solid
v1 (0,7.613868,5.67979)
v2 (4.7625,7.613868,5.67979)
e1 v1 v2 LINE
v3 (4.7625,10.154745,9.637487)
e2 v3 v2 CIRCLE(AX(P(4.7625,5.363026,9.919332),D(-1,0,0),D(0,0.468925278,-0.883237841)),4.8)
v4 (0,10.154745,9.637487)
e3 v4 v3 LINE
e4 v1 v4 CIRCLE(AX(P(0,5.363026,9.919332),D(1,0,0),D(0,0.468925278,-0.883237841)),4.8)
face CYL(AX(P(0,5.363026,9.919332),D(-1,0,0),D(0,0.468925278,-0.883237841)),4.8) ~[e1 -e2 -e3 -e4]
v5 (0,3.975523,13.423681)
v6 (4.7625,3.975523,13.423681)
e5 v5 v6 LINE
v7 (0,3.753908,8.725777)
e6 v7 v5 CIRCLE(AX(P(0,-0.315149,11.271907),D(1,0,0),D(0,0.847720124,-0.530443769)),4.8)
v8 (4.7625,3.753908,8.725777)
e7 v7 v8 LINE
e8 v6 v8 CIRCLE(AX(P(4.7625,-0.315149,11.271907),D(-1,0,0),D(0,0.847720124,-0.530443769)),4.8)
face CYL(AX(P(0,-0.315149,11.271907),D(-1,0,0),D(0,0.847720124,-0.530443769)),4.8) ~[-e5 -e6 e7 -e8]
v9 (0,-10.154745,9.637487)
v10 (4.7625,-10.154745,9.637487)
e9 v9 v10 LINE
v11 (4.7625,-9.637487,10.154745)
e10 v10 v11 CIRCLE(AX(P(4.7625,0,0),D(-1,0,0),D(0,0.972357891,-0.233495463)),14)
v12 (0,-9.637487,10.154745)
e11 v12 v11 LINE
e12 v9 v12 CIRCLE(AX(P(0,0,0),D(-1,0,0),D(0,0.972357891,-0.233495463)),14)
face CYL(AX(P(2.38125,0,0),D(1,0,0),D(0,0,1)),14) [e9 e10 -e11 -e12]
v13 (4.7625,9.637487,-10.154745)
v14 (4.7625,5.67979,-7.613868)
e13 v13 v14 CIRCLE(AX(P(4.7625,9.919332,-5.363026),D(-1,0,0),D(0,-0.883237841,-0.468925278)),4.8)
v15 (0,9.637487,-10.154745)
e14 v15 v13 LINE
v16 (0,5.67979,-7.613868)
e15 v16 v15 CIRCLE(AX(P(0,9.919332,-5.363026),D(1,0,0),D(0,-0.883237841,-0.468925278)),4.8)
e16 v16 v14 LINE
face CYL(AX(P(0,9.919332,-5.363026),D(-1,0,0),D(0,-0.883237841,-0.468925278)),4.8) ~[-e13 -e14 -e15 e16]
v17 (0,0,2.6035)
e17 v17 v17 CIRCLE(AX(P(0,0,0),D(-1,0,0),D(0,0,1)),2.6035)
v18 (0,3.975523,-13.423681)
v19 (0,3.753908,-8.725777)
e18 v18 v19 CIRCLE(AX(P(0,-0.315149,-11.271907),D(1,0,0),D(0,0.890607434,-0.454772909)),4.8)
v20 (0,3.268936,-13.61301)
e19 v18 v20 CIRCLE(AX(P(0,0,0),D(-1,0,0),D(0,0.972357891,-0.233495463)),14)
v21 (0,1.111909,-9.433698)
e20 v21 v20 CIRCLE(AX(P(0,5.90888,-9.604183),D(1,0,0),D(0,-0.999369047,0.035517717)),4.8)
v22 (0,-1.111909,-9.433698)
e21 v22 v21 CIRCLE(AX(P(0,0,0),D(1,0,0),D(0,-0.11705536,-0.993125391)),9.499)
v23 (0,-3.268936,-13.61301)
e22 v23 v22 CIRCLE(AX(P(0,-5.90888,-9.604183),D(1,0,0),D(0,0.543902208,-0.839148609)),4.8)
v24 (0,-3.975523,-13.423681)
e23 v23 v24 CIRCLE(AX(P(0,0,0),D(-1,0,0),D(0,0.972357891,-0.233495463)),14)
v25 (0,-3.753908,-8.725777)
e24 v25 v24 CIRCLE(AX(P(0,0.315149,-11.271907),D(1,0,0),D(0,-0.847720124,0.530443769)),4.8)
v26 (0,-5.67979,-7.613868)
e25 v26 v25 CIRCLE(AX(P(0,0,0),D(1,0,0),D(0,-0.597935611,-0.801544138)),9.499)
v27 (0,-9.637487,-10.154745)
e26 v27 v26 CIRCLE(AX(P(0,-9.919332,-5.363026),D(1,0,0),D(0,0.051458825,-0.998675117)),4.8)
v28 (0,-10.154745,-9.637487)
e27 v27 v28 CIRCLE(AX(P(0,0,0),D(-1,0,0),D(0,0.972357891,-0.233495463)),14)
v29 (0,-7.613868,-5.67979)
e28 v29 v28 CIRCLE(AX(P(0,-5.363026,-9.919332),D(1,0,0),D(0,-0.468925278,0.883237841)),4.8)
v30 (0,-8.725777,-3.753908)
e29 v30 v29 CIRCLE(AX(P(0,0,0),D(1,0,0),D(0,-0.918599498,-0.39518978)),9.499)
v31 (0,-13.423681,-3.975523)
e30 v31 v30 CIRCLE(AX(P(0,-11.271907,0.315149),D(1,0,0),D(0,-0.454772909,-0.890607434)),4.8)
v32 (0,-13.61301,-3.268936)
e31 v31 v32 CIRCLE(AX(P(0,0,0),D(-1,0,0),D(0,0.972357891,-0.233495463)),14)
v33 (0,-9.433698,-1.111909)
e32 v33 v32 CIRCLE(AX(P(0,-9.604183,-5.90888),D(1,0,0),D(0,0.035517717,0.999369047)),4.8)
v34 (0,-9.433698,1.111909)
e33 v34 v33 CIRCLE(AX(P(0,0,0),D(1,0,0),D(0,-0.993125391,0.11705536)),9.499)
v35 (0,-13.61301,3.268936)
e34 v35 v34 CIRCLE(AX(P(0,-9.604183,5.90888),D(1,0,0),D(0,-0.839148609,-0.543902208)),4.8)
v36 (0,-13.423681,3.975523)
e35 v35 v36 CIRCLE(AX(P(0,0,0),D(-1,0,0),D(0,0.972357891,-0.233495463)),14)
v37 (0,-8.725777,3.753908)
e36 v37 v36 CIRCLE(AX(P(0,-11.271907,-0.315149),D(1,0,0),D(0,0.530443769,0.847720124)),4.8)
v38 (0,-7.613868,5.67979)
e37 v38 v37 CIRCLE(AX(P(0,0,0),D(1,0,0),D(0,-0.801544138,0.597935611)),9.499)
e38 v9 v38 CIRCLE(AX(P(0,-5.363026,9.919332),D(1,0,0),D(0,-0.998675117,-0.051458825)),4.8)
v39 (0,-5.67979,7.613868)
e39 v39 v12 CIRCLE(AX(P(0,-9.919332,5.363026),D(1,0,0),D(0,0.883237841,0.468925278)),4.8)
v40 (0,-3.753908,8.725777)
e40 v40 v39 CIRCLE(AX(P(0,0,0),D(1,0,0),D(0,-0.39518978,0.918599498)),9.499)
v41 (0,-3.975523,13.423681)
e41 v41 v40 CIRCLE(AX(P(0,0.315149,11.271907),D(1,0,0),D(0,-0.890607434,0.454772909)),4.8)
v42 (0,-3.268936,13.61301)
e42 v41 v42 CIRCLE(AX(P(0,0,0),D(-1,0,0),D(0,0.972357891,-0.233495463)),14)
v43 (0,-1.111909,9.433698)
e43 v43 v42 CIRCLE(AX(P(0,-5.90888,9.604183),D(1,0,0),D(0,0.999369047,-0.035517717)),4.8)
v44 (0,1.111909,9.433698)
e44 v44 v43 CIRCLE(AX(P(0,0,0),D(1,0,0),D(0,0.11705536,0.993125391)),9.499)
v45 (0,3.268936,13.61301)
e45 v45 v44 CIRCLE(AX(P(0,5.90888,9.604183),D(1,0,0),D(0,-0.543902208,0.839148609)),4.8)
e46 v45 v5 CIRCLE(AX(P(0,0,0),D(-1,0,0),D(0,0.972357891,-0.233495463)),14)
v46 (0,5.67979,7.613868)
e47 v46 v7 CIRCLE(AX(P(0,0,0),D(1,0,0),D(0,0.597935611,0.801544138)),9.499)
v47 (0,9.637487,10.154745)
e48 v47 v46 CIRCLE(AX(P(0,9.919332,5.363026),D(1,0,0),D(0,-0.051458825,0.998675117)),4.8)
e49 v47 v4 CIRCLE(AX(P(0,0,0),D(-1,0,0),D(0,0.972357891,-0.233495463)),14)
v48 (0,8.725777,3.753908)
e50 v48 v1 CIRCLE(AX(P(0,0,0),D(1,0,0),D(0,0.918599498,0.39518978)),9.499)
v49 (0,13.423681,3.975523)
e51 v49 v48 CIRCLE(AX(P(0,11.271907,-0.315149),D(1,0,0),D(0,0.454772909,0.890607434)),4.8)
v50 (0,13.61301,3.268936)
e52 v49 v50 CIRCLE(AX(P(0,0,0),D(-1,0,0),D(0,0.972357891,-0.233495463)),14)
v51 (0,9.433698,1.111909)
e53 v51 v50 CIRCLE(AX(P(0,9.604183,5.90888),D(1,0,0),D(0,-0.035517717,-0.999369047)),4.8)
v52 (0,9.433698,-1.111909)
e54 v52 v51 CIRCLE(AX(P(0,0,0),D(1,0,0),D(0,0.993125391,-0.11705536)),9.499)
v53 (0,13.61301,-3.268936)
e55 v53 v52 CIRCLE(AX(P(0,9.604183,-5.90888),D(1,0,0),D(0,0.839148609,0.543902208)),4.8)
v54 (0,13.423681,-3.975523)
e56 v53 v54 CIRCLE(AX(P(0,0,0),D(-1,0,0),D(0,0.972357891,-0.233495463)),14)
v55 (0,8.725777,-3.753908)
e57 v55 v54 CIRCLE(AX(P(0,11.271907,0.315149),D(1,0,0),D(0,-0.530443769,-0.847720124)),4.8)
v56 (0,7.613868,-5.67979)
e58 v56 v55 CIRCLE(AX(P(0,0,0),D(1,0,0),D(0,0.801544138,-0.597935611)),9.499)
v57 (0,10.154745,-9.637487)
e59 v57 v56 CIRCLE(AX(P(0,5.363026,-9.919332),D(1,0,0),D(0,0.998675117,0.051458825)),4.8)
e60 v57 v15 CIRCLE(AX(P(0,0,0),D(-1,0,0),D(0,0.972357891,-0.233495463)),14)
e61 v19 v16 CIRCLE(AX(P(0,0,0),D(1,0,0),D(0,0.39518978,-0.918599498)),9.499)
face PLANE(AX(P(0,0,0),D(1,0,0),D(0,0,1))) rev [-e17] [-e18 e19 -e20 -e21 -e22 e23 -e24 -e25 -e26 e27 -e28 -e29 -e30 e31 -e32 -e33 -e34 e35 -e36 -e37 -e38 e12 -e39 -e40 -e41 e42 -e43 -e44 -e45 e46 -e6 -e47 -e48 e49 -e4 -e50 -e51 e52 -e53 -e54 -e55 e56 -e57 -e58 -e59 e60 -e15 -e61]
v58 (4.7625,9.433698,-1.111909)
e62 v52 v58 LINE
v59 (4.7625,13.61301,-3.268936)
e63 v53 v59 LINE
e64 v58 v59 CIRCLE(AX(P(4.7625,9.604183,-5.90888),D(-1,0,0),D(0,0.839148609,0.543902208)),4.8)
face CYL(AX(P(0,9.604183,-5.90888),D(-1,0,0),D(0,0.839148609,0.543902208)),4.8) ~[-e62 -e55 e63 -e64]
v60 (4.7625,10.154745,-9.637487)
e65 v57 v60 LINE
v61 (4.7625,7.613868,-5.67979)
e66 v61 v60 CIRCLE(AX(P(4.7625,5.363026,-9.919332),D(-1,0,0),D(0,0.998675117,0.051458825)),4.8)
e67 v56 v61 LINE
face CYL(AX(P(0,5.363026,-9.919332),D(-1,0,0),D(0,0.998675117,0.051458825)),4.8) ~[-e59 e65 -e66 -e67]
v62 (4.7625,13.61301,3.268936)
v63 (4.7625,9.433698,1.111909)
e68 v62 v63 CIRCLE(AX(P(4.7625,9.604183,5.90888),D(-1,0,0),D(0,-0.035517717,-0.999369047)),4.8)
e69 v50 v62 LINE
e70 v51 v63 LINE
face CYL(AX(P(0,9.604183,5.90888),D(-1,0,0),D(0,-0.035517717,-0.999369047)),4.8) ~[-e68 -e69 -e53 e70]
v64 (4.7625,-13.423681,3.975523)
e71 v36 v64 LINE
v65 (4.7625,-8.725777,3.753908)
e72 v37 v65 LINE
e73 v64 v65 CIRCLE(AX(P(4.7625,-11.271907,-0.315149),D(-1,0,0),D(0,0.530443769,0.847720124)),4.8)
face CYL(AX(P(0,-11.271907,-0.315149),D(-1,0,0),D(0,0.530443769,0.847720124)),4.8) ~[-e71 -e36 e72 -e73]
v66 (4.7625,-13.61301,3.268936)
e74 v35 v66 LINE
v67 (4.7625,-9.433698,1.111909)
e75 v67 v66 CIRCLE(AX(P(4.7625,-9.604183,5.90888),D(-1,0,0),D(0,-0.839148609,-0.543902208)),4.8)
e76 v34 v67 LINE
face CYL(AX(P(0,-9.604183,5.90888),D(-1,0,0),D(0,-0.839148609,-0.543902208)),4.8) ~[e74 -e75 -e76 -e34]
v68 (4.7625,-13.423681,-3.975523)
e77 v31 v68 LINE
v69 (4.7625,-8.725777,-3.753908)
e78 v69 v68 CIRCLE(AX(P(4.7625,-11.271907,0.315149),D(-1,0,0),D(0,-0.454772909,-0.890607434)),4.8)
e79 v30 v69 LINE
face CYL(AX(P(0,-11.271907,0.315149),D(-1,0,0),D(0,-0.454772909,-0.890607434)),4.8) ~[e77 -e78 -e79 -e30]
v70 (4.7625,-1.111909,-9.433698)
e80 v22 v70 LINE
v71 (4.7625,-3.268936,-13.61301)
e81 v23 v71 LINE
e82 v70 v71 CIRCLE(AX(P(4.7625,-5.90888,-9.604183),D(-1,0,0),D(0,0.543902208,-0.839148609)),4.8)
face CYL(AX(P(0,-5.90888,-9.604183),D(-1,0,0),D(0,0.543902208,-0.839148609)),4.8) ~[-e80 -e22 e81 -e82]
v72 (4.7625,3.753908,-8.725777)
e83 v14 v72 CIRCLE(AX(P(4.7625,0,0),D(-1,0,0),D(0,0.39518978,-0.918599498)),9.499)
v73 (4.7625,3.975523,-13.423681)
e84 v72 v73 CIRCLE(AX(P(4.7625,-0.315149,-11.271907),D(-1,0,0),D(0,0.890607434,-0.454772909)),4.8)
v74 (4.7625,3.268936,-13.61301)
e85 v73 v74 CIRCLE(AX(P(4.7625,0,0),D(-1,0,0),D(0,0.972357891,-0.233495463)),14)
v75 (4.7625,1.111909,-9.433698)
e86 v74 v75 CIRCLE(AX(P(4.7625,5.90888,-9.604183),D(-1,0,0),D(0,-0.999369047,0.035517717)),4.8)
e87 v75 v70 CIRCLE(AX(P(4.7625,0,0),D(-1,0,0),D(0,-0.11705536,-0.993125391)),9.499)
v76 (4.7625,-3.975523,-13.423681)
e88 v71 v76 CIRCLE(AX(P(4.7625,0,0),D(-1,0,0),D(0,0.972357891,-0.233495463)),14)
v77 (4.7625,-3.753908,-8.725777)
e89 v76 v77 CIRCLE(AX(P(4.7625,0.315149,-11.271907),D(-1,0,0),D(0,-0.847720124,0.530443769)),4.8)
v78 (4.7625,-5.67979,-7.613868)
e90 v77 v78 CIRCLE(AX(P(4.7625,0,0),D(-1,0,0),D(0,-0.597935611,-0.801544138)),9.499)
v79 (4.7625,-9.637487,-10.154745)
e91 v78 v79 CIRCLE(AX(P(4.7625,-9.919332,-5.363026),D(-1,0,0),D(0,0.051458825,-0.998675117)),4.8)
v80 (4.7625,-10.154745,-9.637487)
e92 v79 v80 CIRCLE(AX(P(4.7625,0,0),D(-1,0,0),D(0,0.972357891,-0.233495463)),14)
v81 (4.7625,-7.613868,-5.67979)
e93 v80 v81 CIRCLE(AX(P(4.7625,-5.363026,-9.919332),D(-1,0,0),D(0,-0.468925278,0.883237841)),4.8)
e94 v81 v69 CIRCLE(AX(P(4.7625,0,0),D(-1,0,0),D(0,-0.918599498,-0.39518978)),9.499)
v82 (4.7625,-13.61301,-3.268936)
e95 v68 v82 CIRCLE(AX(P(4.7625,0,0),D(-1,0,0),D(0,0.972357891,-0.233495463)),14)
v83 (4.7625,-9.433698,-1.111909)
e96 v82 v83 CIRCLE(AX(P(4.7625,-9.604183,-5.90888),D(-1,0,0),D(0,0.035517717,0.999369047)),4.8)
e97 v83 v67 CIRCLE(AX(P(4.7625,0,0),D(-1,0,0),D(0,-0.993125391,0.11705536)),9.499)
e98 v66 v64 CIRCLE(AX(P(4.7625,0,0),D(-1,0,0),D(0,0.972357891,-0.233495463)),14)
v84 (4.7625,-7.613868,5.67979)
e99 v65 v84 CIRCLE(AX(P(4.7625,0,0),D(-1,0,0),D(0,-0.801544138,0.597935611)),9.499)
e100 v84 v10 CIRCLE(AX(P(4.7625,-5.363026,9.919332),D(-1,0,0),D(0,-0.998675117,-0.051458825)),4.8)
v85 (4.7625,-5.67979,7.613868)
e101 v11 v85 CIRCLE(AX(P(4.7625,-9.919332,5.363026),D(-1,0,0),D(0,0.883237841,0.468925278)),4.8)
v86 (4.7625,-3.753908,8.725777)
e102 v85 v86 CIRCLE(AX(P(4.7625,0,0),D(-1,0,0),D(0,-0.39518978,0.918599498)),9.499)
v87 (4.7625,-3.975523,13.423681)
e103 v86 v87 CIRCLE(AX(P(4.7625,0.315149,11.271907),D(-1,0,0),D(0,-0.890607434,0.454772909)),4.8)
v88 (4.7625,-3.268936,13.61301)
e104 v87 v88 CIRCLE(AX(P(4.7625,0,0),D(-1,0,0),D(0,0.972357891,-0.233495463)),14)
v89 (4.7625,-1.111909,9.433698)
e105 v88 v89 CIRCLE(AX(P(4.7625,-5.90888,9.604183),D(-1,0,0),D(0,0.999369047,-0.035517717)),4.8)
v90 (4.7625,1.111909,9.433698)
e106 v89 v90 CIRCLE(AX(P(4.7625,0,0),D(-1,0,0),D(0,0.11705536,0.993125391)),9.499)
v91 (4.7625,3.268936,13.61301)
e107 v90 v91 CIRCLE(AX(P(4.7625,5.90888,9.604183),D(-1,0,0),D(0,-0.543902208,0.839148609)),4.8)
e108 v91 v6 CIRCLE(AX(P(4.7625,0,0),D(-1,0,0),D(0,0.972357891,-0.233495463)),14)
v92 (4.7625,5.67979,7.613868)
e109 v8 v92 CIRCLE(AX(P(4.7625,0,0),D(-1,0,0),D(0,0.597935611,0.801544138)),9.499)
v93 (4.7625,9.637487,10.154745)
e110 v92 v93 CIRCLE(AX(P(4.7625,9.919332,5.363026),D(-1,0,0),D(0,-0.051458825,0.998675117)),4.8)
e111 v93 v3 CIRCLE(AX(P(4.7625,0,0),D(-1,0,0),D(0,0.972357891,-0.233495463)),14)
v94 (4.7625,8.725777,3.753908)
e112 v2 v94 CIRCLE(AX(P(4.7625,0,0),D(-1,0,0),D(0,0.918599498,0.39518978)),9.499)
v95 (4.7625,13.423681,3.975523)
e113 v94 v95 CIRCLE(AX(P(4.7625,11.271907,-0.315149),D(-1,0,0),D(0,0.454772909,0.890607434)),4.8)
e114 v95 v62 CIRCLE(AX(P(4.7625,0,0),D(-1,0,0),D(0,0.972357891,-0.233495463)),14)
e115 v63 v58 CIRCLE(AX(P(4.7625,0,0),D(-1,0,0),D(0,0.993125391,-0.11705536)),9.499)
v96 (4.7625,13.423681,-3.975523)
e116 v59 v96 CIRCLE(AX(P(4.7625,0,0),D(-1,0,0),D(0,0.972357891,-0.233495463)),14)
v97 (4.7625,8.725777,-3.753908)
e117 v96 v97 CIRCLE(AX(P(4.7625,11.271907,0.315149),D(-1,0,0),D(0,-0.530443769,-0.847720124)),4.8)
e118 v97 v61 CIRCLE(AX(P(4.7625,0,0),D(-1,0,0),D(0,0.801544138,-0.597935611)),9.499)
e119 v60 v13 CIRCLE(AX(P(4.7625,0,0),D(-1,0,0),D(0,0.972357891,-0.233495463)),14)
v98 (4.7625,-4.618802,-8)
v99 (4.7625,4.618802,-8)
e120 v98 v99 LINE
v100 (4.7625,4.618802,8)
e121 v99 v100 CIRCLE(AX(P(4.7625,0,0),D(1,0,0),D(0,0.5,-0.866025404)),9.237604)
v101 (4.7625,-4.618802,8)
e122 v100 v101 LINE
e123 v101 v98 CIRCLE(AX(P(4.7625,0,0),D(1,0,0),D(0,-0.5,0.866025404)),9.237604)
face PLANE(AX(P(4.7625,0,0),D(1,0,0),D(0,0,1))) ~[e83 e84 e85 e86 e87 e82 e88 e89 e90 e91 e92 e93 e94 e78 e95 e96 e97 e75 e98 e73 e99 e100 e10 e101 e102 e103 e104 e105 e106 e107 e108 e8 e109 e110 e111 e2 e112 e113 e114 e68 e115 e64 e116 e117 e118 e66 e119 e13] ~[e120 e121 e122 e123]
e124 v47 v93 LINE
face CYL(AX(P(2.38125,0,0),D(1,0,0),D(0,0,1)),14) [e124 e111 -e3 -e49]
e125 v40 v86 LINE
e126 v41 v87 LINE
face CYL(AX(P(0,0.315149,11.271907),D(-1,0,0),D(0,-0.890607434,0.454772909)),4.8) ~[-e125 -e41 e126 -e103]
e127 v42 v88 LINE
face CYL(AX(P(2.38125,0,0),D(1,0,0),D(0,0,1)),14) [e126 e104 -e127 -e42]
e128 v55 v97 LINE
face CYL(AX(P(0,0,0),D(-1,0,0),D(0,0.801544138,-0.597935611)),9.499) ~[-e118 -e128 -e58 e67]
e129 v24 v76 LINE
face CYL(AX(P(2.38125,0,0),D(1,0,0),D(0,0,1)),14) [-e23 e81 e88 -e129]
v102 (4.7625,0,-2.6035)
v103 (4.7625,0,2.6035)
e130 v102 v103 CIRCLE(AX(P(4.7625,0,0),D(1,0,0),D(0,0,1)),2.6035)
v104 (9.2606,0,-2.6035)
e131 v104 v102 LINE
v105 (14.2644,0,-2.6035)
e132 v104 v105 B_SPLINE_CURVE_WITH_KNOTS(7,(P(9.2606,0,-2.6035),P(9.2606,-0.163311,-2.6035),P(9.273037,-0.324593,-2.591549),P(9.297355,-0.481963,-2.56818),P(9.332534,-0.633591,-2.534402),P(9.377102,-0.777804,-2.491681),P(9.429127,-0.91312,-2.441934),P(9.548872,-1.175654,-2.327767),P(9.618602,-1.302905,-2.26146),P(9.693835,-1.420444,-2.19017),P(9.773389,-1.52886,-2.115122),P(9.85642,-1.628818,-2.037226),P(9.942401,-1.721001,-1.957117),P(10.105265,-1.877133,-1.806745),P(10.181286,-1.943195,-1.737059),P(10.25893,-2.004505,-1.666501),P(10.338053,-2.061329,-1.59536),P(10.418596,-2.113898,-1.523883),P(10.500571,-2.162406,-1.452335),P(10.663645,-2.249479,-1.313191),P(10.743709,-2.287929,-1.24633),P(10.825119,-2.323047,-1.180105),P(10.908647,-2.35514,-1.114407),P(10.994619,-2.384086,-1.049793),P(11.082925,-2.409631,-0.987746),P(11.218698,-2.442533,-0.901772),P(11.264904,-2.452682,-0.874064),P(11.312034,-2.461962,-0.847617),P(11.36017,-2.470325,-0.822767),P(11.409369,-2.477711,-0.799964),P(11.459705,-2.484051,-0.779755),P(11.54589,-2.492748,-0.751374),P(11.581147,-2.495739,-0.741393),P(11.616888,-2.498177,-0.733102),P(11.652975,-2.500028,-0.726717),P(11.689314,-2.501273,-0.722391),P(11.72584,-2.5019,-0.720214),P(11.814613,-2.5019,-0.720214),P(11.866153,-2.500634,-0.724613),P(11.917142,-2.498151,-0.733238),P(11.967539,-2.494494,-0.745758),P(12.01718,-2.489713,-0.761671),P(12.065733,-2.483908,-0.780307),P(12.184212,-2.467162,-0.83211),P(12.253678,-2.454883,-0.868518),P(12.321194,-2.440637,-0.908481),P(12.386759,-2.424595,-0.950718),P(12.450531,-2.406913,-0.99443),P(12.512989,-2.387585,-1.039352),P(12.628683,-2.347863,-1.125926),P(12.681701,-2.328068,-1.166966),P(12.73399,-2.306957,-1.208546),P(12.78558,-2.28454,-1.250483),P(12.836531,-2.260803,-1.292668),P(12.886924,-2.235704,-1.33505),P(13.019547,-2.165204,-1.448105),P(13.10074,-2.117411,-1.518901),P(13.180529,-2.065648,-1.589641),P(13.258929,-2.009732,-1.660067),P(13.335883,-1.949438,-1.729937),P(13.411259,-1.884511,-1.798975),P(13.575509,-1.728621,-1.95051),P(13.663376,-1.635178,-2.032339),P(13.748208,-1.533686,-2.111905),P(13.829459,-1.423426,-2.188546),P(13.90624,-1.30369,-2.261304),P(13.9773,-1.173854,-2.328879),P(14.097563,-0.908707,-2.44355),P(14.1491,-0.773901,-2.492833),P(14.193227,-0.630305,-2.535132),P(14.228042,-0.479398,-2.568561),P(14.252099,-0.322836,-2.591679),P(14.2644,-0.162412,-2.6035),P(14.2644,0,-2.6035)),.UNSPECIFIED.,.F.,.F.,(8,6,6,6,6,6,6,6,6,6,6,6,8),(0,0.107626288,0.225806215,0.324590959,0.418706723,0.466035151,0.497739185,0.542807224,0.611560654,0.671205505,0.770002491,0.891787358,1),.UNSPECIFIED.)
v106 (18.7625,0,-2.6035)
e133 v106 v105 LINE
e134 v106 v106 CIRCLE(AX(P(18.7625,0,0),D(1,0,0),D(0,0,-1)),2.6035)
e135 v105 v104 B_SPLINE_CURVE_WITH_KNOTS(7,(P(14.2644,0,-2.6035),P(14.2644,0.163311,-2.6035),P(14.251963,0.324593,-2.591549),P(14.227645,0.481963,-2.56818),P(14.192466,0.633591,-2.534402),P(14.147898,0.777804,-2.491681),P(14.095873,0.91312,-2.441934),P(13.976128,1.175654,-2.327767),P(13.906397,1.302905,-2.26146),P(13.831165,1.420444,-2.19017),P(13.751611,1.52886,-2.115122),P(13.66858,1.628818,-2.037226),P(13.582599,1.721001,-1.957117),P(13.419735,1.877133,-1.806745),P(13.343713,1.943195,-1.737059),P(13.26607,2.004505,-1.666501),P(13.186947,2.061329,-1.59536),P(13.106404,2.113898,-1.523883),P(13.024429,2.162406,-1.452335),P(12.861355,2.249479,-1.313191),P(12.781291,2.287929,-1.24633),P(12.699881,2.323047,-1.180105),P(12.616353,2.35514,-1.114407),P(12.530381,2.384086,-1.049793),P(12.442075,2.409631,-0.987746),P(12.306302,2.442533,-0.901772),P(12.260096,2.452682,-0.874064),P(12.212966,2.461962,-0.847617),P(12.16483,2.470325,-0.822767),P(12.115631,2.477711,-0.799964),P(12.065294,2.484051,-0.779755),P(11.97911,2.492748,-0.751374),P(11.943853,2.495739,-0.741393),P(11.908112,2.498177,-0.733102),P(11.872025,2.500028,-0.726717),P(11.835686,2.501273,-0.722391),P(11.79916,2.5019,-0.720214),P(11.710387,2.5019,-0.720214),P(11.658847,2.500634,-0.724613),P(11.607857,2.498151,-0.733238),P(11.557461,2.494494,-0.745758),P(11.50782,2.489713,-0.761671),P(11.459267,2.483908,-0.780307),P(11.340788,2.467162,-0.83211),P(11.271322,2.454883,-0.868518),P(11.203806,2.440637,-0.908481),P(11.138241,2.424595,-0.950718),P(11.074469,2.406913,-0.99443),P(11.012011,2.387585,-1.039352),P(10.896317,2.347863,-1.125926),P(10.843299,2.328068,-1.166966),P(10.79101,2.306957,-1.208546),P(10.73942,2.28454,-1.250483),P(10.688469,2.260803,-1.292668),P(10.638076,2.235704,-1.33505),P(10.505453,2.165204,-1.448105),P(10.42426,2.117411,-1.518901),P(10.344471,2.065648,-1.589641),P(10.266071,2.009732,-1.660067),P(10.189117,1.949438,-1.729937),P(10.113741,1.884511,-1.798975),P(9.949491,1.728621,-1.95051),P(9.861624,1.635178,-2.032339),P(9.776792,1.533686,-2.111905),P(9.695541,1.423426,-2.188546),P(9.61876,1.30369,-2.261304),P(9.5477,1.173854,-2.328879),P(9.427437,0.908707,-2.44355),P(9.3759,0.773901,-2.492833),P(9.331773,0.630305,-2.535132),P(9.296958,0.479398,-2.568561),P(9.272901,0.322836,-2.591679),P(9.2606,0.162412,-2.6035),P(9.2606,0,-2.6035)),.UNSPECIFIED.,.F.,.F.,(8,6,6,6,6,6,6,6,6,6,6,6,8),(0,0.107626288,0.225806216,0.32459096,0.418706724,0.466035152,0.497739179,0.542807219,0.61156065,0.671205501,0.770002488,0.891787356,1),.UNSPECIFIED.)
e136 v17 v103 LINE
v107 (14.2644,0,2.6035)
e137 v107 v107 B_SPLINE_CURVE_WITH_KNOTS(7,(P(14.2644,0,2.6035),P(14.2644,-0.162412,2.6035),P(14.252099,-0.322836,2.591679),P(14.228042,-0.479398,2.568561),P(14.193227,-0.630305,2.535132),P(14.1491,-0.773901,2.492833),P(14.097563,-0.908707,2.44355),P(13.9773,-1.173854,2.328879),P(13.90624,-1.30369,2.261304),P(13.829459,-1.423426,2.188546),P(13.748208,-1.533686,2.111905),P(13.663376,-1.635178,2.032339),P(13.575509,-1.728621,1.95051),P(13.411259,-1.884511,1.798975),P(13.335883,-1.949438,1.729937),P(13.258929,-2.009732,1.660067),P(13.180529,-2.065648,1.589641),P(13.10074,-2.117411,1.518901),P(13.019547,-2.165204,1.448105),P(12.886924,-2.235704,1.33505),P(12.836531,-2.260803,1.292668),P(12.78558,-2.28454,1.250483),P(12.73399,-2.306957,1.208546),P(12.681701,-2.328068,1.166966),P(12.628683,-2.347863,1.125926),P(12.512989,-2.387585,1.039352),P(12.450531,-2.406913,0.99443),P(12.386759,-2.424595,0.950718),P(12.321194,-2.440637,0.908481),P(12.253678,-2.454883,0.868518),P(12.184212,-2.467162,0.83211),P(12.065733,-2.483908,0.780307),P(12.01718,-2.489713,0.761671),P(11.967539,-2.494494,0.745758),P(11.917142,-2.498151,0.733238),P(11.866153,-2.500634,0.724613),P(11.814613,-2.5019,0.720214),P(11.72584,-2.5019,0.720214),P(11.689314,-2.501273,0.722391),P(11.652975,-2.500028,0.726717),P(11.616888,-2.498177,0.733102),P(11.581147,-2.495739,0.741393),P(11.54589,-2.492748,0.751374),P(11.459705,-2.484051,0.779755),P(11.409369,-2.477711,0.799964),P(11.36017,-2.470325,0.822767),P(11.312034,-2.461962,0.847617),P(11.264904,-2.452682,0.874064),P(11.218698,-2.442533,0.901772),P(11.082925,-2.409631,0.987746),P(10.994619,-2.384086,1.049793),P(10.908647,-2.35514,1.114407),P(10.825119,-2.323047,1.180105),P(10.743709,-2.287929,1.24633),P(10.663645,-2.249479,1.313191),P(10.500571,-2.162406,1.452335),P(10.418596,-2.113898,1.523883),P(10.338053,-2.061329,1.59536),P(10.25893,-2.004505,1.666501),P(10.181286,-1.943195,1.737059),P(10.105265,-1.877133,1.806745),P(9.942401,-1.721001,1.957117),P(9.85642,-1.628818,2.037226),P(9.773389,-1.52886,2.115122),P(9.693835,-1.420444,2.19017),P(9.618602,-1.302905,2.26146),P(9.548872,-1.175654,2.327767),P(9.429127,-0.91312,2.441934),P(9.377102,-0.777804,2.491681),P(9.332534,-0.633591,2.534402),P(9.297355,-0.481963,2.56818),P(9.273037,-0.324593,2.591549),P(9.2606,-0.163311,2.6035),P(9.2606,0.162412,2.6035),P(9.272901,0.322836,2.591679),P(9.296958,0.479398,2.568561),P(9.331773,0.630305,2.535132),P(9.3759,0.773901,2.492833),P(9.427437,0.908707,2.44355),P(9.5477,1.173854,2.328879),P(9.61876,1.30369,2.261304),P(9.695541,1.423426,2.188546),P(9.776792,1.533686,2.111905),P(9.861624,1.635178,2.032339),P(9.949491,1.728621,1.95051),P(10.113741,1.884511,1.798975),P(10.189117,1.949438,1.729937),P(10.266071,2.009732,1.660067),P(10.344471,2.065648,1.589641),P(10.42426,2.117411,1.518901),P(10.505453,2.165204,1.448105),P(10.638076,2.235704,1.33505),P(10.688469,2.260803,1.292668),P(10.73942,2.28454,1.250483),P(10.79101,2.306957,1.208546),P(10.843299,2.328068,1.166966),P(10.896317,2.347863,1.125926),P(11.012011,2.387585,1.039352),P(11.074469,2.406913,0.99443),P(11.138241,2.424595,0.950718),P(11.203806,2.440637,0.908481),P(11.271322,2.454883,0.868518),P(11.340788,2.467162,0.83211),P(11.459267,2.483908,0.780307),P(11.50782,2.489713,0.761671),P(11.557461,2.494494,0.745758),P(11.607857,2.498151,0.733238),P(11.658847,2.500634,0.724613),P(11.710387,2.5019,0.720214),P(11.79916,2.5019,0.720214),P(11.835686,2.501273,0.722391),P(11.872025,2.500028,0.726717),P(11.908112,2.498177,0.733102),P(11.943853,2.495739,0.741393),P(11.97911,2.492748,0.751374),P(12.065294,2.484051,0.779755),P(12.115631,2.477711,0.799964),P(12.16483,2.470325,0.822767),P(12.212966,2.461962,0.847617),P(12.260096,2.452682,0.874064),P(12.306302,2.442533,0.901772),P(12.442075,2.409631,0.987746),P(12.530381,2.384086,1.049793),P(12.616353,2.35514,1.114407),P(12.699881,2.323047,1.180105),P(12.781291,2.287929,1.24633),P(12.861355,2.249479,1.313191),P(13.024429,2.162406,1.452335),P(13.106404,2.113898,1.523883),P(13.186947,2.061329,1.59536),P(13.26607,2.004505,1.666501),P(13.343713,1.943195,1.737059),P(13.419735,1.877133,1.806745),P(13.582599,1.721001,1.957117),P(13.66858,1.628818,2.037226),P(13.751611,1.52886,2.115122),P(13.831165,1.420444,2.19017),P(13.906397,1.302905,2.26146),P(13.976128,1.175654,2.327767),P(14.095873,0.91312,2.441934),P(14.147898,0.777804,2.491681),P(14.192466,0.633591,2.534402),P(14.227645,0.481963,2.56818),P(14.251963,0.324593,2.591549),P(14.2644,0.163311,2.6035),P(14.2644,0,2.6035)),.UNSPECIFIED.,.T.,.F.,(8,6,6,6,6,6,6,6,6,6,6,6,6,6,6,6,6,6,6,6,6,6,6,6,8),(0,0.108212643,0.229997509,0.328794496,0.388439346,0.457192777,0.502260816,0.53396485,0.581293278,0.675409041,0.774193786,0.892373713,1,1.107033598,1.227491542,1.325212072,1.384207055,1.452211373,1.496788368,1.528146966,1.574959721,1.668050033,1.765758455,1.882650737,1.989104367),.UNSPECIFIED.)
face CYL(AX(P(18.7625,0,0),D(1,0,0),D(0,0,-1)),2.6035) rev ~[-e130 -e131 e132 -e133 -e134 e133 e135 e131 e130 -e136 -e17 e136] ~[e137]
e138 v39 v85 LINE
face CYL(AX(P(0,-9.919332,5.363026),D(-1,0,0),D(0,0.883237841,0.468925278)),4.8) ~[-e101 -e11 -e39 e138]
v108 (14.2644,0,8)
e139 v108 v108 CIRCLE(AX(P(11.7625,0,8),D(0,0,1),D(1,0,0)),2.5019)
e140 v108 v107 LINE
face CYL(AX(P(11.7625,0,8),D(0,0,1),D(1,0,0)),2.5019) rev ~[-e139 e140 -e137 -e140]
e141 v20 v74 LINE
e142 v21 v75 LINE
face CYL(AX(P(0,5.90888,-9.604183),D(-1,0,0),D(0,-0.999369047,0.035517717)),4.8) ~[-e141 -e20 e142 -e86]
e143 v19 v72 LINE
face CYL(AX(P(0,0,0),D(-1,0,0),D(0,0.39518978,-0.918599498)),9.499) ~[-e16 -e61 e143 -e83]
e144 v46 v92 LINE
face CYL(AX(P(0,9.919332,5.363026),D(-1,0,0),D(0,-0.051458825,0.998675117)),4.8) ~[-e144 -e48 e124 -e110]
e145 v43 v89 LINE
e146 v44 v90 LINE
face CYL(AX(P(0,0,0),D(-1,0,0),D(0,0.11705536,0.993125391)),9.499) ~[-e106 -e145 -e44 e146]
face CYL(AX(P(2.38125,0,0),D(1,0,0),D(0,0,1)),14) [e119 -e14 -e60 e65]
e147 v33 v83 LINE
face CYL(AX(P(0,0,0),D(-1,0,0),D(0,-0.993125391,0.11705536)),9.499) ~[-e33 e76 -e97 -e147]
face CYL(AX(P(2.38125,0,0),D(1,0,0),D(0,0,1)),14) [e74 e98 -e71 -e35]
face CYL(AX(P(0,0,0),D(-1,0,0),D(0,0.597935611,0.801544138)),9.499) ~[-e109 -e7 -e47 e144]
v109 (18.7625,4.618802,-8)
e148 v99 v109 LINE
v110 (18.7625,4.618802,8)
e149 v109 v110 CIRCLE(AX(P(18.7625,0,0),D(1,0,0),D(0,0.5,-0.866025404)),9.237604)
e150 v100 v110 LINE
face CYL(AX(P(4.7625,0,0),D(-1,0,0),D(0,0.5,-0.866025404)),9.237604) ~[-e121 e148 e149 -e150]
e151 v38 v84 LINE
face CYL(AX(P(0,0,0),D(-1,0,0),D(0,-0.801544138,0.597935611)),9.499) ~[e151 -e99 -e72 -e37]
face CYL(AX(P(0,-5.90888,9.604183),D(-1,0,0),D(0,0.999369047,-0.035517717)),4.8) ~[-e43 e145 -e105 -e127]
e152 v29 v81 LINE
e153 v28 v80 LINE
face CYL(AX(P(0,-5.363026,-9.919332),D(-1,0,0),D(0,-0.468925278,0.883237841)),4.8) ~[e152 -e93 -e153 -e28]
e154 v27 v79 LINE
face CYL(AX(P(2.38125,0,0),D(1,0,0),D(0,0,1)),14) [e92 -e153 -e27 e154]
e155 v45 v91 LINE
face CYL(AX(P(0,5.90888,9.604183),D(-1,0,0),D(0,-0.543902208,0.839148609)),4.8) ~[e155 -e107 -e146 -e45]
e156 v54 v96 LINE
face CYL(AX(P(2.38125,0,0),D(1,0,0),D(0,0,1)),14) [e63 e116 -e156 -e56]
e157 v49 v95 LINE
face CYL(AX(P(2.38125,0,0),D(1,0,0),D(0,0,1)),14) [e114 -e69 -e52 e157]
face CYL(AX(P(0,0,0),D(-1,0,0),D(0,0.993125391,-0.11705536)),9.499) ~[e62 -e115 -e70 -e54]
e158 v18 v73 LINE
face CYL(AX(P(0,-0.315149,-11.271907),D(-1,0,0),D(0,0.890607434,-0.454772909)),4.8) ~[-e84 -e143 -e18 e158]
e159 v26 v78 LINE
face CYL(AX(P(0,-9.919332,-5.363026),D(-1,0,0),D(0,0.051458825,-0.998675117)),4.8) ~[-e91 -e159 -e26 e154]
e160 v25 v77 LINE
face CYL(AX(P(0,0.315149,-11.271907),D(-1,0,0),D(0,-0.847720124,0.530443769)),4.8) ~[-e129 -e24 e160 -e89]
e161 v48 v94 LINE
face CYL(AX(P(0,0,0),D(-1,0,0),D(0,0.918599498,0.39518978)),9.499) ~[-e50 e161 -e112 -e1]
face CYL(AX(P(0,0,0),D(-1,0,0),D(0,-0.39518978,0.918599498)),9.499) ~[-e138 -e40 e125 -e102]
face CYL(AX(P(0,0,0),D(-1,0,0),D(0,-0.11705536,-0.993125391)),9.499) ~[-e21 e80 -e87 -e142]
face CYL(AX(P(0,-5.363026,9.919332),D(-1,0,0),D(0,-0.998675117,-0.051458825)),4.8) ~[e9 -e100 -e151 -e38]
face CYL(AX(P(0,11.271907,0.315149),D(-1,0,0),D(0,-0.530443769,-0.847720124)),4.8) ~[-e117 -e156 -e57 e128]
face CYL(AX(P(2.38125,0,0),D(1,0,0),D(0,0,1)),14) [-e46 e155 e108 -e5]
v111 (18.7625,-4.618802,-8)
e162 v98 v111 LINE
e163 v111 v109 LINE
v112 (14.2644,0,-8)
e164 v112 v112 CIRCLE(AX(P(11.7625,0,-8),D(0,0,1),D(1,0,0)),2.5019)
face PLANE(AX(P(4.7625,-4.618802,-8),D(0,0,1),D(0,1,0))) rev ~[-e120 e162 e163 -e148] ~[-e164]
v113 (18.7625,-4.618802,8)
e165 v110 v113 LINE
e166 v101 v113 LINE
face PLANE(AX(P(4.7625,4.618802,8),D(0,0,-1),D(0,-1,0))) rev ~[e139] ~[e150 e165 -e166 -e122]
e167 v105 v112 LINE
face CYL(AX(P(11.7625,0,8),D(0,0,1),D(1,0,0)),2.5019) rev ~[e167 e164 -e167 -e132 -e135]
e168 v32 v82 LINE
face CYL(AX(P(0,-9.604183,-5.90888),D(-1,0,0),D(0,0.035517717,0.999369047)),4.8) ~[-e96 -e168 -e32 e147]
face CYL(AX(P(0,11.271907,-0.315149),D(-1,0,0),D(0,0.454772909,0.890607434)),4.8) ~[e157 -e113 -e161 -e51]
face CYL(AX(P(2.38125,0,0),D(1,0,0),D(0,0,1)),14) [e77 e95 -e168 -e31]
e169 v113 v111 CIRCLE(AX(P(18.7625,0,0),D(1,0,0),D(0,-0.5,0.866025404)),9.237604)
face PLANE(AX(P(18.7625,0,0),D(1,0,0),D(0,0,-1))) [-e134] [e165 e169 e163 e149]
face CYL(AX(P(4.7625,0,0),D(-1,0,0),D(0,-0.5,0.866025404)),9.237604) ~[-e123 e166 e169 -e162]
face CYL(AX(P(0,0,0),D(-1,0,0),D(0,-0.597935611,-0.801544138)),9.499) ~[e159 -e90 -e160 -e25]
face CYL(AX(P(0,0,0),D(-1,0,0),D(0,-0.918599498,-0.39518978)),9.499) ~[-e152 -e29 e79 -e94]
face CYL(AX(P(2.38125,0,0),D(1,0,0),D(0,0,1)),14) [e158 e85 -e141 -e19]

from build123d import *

# Parameters (mm, degrees)
BASPROSKE_W         = 4.7625
BASPROSKE_H         = 14
TOOTHCUT_DEPTH      = 21.36372771
TEETHCUTS_COUNT     = 12
TEETHCUTS_ANGLE     = 330
BORSKE_R            = 2.6035
BORE_DEPTH          = 50.0000508
BOSS_EXTRUDE1_DEPTH = 13.99999994
SKETCH2_R           = 2.6035
CUT_EXTRUDE1_DEPTH  = 27.882327142
SKETCH3_R           = 2.5019
CUT_EXTRUDE2_DEPTH  = 32.693338104


with BuildPart() as part:
    # BasProSke → Base-Revolve (revolve)
    with BuildSketch(Plane(origin=(0, 0, 0), x_dir=(1, 0, 0), z_dir=(0, 1, 0)), mode=Mode.PRIVATE) as base_revolve_sk:
        with Locations((2.38125, 7)):
            Rectangle(BASPROSKE_W, BASPROSKE_H)
    revolve(base_revolve_sk.sketch.rotate(Axis((-10, 0, 0), (1, 0, 0)), 180), axis=Axis((-10, 0, 0), (1, 0, 0)))

    # TooCutSke → ToothCut (cut, through all)
    with BuildSketch(Plane(origin=(0, 0, 0), x_dir=(0, 0, -1), z_dir=(1, 0, 0))):
        with BuildLine():
            ThreePointArc((1.111908866, 9.433698091), (0, 9.499), (-1.111908866, 9.433698091))
            ThreePointArc((-1.111908866, 9.433698091), (-1.651516138, 11.821129337), (-3.298149691, 13.632096456))
            ThreePointArc((-3.298149691, 13.632096456), (0, 14.0254), (3.298149691, 13.632096456))
            ThreePointArc((3.298149691, 13.632096456), (1.651516138, 11.821129337), (1.111908866, 9.433698091))
        make_face()
    toothcut = extrude(amount=TOOTHCUT_DEPTH, mode=Mode.SUBTRACT)

    # TeethCuts: ToothCut ×12 about axis
    teethcuts_axis = Axis((-10, 0, 0), (1, 0, 0))
    for i in range(1, TEETHCUTS_COUNT):
        add(toothcut.rotate(teethcuts_axis, i * TEETHCUTS_ANGLE / (TEETHCUTS_COUNT - 1)), mode=Mode.SUBTRACT)

    # BorSke → Bore (cut, symmetric)
    with BuildSketch(Plane(origin=(0, 0, 0), x_dir=(0, 0, -1), z_dir=(1, 0, 0))):
        with Locations(Location((0, 0, 0), (0, 0, 180))):
            Circle(BORSKE_R)
    extrude(amount=BORE_DEPTH, both=True, mode=Mode.SUBTRACT)

    # Sketch1 → Boss-Extrude1 (add)
    with BuildSketch(Plane(origin=(4.7625, 0, 0), x_dir=(0, 0, -1), z_dir=(1, 0, 0))):
        with BuildLine():
            Line((-8, 4.618802154), (-8, -4.618802154))
            ThreePointArc((-8, -4.618802154), (0, -9.237604307), (8, -4.618802154))
            Line((8, -4.618802154), (8, 4.618802154))
            ThreePointArc((8, 4.618802154), (0, 9.237604307), (-8, 4.618802154))
        make_face()
    extrude(amount=BOSS_EXTRUDE1_DEPTH)

    # Sketch2 → Cut-Extrude1 (cut, through all)
    with BuildSketch(Plane(origin=(18.76249994, 0, 0), x_dir=(0, 0, -1), z_dir=(1, 0, 0))):
        Circle(SKETCH2_R)
    extrude(amount=-CUT_EXTRUDE1_DEPTH, mode=Mode.SUBTRACT)

    # Sketch3 → Cut-Extrude2 (cut, through all)
    with BuildSketch(Plane.XY.offset(8)):
        with Locations((11.76249997, 0)):
            Circle(SKETCH3_R)
    extrude(amount=-CUT_EXTRUDE2_DEPTH, mode=Mode.SUBTRACT)


solid = part.part
